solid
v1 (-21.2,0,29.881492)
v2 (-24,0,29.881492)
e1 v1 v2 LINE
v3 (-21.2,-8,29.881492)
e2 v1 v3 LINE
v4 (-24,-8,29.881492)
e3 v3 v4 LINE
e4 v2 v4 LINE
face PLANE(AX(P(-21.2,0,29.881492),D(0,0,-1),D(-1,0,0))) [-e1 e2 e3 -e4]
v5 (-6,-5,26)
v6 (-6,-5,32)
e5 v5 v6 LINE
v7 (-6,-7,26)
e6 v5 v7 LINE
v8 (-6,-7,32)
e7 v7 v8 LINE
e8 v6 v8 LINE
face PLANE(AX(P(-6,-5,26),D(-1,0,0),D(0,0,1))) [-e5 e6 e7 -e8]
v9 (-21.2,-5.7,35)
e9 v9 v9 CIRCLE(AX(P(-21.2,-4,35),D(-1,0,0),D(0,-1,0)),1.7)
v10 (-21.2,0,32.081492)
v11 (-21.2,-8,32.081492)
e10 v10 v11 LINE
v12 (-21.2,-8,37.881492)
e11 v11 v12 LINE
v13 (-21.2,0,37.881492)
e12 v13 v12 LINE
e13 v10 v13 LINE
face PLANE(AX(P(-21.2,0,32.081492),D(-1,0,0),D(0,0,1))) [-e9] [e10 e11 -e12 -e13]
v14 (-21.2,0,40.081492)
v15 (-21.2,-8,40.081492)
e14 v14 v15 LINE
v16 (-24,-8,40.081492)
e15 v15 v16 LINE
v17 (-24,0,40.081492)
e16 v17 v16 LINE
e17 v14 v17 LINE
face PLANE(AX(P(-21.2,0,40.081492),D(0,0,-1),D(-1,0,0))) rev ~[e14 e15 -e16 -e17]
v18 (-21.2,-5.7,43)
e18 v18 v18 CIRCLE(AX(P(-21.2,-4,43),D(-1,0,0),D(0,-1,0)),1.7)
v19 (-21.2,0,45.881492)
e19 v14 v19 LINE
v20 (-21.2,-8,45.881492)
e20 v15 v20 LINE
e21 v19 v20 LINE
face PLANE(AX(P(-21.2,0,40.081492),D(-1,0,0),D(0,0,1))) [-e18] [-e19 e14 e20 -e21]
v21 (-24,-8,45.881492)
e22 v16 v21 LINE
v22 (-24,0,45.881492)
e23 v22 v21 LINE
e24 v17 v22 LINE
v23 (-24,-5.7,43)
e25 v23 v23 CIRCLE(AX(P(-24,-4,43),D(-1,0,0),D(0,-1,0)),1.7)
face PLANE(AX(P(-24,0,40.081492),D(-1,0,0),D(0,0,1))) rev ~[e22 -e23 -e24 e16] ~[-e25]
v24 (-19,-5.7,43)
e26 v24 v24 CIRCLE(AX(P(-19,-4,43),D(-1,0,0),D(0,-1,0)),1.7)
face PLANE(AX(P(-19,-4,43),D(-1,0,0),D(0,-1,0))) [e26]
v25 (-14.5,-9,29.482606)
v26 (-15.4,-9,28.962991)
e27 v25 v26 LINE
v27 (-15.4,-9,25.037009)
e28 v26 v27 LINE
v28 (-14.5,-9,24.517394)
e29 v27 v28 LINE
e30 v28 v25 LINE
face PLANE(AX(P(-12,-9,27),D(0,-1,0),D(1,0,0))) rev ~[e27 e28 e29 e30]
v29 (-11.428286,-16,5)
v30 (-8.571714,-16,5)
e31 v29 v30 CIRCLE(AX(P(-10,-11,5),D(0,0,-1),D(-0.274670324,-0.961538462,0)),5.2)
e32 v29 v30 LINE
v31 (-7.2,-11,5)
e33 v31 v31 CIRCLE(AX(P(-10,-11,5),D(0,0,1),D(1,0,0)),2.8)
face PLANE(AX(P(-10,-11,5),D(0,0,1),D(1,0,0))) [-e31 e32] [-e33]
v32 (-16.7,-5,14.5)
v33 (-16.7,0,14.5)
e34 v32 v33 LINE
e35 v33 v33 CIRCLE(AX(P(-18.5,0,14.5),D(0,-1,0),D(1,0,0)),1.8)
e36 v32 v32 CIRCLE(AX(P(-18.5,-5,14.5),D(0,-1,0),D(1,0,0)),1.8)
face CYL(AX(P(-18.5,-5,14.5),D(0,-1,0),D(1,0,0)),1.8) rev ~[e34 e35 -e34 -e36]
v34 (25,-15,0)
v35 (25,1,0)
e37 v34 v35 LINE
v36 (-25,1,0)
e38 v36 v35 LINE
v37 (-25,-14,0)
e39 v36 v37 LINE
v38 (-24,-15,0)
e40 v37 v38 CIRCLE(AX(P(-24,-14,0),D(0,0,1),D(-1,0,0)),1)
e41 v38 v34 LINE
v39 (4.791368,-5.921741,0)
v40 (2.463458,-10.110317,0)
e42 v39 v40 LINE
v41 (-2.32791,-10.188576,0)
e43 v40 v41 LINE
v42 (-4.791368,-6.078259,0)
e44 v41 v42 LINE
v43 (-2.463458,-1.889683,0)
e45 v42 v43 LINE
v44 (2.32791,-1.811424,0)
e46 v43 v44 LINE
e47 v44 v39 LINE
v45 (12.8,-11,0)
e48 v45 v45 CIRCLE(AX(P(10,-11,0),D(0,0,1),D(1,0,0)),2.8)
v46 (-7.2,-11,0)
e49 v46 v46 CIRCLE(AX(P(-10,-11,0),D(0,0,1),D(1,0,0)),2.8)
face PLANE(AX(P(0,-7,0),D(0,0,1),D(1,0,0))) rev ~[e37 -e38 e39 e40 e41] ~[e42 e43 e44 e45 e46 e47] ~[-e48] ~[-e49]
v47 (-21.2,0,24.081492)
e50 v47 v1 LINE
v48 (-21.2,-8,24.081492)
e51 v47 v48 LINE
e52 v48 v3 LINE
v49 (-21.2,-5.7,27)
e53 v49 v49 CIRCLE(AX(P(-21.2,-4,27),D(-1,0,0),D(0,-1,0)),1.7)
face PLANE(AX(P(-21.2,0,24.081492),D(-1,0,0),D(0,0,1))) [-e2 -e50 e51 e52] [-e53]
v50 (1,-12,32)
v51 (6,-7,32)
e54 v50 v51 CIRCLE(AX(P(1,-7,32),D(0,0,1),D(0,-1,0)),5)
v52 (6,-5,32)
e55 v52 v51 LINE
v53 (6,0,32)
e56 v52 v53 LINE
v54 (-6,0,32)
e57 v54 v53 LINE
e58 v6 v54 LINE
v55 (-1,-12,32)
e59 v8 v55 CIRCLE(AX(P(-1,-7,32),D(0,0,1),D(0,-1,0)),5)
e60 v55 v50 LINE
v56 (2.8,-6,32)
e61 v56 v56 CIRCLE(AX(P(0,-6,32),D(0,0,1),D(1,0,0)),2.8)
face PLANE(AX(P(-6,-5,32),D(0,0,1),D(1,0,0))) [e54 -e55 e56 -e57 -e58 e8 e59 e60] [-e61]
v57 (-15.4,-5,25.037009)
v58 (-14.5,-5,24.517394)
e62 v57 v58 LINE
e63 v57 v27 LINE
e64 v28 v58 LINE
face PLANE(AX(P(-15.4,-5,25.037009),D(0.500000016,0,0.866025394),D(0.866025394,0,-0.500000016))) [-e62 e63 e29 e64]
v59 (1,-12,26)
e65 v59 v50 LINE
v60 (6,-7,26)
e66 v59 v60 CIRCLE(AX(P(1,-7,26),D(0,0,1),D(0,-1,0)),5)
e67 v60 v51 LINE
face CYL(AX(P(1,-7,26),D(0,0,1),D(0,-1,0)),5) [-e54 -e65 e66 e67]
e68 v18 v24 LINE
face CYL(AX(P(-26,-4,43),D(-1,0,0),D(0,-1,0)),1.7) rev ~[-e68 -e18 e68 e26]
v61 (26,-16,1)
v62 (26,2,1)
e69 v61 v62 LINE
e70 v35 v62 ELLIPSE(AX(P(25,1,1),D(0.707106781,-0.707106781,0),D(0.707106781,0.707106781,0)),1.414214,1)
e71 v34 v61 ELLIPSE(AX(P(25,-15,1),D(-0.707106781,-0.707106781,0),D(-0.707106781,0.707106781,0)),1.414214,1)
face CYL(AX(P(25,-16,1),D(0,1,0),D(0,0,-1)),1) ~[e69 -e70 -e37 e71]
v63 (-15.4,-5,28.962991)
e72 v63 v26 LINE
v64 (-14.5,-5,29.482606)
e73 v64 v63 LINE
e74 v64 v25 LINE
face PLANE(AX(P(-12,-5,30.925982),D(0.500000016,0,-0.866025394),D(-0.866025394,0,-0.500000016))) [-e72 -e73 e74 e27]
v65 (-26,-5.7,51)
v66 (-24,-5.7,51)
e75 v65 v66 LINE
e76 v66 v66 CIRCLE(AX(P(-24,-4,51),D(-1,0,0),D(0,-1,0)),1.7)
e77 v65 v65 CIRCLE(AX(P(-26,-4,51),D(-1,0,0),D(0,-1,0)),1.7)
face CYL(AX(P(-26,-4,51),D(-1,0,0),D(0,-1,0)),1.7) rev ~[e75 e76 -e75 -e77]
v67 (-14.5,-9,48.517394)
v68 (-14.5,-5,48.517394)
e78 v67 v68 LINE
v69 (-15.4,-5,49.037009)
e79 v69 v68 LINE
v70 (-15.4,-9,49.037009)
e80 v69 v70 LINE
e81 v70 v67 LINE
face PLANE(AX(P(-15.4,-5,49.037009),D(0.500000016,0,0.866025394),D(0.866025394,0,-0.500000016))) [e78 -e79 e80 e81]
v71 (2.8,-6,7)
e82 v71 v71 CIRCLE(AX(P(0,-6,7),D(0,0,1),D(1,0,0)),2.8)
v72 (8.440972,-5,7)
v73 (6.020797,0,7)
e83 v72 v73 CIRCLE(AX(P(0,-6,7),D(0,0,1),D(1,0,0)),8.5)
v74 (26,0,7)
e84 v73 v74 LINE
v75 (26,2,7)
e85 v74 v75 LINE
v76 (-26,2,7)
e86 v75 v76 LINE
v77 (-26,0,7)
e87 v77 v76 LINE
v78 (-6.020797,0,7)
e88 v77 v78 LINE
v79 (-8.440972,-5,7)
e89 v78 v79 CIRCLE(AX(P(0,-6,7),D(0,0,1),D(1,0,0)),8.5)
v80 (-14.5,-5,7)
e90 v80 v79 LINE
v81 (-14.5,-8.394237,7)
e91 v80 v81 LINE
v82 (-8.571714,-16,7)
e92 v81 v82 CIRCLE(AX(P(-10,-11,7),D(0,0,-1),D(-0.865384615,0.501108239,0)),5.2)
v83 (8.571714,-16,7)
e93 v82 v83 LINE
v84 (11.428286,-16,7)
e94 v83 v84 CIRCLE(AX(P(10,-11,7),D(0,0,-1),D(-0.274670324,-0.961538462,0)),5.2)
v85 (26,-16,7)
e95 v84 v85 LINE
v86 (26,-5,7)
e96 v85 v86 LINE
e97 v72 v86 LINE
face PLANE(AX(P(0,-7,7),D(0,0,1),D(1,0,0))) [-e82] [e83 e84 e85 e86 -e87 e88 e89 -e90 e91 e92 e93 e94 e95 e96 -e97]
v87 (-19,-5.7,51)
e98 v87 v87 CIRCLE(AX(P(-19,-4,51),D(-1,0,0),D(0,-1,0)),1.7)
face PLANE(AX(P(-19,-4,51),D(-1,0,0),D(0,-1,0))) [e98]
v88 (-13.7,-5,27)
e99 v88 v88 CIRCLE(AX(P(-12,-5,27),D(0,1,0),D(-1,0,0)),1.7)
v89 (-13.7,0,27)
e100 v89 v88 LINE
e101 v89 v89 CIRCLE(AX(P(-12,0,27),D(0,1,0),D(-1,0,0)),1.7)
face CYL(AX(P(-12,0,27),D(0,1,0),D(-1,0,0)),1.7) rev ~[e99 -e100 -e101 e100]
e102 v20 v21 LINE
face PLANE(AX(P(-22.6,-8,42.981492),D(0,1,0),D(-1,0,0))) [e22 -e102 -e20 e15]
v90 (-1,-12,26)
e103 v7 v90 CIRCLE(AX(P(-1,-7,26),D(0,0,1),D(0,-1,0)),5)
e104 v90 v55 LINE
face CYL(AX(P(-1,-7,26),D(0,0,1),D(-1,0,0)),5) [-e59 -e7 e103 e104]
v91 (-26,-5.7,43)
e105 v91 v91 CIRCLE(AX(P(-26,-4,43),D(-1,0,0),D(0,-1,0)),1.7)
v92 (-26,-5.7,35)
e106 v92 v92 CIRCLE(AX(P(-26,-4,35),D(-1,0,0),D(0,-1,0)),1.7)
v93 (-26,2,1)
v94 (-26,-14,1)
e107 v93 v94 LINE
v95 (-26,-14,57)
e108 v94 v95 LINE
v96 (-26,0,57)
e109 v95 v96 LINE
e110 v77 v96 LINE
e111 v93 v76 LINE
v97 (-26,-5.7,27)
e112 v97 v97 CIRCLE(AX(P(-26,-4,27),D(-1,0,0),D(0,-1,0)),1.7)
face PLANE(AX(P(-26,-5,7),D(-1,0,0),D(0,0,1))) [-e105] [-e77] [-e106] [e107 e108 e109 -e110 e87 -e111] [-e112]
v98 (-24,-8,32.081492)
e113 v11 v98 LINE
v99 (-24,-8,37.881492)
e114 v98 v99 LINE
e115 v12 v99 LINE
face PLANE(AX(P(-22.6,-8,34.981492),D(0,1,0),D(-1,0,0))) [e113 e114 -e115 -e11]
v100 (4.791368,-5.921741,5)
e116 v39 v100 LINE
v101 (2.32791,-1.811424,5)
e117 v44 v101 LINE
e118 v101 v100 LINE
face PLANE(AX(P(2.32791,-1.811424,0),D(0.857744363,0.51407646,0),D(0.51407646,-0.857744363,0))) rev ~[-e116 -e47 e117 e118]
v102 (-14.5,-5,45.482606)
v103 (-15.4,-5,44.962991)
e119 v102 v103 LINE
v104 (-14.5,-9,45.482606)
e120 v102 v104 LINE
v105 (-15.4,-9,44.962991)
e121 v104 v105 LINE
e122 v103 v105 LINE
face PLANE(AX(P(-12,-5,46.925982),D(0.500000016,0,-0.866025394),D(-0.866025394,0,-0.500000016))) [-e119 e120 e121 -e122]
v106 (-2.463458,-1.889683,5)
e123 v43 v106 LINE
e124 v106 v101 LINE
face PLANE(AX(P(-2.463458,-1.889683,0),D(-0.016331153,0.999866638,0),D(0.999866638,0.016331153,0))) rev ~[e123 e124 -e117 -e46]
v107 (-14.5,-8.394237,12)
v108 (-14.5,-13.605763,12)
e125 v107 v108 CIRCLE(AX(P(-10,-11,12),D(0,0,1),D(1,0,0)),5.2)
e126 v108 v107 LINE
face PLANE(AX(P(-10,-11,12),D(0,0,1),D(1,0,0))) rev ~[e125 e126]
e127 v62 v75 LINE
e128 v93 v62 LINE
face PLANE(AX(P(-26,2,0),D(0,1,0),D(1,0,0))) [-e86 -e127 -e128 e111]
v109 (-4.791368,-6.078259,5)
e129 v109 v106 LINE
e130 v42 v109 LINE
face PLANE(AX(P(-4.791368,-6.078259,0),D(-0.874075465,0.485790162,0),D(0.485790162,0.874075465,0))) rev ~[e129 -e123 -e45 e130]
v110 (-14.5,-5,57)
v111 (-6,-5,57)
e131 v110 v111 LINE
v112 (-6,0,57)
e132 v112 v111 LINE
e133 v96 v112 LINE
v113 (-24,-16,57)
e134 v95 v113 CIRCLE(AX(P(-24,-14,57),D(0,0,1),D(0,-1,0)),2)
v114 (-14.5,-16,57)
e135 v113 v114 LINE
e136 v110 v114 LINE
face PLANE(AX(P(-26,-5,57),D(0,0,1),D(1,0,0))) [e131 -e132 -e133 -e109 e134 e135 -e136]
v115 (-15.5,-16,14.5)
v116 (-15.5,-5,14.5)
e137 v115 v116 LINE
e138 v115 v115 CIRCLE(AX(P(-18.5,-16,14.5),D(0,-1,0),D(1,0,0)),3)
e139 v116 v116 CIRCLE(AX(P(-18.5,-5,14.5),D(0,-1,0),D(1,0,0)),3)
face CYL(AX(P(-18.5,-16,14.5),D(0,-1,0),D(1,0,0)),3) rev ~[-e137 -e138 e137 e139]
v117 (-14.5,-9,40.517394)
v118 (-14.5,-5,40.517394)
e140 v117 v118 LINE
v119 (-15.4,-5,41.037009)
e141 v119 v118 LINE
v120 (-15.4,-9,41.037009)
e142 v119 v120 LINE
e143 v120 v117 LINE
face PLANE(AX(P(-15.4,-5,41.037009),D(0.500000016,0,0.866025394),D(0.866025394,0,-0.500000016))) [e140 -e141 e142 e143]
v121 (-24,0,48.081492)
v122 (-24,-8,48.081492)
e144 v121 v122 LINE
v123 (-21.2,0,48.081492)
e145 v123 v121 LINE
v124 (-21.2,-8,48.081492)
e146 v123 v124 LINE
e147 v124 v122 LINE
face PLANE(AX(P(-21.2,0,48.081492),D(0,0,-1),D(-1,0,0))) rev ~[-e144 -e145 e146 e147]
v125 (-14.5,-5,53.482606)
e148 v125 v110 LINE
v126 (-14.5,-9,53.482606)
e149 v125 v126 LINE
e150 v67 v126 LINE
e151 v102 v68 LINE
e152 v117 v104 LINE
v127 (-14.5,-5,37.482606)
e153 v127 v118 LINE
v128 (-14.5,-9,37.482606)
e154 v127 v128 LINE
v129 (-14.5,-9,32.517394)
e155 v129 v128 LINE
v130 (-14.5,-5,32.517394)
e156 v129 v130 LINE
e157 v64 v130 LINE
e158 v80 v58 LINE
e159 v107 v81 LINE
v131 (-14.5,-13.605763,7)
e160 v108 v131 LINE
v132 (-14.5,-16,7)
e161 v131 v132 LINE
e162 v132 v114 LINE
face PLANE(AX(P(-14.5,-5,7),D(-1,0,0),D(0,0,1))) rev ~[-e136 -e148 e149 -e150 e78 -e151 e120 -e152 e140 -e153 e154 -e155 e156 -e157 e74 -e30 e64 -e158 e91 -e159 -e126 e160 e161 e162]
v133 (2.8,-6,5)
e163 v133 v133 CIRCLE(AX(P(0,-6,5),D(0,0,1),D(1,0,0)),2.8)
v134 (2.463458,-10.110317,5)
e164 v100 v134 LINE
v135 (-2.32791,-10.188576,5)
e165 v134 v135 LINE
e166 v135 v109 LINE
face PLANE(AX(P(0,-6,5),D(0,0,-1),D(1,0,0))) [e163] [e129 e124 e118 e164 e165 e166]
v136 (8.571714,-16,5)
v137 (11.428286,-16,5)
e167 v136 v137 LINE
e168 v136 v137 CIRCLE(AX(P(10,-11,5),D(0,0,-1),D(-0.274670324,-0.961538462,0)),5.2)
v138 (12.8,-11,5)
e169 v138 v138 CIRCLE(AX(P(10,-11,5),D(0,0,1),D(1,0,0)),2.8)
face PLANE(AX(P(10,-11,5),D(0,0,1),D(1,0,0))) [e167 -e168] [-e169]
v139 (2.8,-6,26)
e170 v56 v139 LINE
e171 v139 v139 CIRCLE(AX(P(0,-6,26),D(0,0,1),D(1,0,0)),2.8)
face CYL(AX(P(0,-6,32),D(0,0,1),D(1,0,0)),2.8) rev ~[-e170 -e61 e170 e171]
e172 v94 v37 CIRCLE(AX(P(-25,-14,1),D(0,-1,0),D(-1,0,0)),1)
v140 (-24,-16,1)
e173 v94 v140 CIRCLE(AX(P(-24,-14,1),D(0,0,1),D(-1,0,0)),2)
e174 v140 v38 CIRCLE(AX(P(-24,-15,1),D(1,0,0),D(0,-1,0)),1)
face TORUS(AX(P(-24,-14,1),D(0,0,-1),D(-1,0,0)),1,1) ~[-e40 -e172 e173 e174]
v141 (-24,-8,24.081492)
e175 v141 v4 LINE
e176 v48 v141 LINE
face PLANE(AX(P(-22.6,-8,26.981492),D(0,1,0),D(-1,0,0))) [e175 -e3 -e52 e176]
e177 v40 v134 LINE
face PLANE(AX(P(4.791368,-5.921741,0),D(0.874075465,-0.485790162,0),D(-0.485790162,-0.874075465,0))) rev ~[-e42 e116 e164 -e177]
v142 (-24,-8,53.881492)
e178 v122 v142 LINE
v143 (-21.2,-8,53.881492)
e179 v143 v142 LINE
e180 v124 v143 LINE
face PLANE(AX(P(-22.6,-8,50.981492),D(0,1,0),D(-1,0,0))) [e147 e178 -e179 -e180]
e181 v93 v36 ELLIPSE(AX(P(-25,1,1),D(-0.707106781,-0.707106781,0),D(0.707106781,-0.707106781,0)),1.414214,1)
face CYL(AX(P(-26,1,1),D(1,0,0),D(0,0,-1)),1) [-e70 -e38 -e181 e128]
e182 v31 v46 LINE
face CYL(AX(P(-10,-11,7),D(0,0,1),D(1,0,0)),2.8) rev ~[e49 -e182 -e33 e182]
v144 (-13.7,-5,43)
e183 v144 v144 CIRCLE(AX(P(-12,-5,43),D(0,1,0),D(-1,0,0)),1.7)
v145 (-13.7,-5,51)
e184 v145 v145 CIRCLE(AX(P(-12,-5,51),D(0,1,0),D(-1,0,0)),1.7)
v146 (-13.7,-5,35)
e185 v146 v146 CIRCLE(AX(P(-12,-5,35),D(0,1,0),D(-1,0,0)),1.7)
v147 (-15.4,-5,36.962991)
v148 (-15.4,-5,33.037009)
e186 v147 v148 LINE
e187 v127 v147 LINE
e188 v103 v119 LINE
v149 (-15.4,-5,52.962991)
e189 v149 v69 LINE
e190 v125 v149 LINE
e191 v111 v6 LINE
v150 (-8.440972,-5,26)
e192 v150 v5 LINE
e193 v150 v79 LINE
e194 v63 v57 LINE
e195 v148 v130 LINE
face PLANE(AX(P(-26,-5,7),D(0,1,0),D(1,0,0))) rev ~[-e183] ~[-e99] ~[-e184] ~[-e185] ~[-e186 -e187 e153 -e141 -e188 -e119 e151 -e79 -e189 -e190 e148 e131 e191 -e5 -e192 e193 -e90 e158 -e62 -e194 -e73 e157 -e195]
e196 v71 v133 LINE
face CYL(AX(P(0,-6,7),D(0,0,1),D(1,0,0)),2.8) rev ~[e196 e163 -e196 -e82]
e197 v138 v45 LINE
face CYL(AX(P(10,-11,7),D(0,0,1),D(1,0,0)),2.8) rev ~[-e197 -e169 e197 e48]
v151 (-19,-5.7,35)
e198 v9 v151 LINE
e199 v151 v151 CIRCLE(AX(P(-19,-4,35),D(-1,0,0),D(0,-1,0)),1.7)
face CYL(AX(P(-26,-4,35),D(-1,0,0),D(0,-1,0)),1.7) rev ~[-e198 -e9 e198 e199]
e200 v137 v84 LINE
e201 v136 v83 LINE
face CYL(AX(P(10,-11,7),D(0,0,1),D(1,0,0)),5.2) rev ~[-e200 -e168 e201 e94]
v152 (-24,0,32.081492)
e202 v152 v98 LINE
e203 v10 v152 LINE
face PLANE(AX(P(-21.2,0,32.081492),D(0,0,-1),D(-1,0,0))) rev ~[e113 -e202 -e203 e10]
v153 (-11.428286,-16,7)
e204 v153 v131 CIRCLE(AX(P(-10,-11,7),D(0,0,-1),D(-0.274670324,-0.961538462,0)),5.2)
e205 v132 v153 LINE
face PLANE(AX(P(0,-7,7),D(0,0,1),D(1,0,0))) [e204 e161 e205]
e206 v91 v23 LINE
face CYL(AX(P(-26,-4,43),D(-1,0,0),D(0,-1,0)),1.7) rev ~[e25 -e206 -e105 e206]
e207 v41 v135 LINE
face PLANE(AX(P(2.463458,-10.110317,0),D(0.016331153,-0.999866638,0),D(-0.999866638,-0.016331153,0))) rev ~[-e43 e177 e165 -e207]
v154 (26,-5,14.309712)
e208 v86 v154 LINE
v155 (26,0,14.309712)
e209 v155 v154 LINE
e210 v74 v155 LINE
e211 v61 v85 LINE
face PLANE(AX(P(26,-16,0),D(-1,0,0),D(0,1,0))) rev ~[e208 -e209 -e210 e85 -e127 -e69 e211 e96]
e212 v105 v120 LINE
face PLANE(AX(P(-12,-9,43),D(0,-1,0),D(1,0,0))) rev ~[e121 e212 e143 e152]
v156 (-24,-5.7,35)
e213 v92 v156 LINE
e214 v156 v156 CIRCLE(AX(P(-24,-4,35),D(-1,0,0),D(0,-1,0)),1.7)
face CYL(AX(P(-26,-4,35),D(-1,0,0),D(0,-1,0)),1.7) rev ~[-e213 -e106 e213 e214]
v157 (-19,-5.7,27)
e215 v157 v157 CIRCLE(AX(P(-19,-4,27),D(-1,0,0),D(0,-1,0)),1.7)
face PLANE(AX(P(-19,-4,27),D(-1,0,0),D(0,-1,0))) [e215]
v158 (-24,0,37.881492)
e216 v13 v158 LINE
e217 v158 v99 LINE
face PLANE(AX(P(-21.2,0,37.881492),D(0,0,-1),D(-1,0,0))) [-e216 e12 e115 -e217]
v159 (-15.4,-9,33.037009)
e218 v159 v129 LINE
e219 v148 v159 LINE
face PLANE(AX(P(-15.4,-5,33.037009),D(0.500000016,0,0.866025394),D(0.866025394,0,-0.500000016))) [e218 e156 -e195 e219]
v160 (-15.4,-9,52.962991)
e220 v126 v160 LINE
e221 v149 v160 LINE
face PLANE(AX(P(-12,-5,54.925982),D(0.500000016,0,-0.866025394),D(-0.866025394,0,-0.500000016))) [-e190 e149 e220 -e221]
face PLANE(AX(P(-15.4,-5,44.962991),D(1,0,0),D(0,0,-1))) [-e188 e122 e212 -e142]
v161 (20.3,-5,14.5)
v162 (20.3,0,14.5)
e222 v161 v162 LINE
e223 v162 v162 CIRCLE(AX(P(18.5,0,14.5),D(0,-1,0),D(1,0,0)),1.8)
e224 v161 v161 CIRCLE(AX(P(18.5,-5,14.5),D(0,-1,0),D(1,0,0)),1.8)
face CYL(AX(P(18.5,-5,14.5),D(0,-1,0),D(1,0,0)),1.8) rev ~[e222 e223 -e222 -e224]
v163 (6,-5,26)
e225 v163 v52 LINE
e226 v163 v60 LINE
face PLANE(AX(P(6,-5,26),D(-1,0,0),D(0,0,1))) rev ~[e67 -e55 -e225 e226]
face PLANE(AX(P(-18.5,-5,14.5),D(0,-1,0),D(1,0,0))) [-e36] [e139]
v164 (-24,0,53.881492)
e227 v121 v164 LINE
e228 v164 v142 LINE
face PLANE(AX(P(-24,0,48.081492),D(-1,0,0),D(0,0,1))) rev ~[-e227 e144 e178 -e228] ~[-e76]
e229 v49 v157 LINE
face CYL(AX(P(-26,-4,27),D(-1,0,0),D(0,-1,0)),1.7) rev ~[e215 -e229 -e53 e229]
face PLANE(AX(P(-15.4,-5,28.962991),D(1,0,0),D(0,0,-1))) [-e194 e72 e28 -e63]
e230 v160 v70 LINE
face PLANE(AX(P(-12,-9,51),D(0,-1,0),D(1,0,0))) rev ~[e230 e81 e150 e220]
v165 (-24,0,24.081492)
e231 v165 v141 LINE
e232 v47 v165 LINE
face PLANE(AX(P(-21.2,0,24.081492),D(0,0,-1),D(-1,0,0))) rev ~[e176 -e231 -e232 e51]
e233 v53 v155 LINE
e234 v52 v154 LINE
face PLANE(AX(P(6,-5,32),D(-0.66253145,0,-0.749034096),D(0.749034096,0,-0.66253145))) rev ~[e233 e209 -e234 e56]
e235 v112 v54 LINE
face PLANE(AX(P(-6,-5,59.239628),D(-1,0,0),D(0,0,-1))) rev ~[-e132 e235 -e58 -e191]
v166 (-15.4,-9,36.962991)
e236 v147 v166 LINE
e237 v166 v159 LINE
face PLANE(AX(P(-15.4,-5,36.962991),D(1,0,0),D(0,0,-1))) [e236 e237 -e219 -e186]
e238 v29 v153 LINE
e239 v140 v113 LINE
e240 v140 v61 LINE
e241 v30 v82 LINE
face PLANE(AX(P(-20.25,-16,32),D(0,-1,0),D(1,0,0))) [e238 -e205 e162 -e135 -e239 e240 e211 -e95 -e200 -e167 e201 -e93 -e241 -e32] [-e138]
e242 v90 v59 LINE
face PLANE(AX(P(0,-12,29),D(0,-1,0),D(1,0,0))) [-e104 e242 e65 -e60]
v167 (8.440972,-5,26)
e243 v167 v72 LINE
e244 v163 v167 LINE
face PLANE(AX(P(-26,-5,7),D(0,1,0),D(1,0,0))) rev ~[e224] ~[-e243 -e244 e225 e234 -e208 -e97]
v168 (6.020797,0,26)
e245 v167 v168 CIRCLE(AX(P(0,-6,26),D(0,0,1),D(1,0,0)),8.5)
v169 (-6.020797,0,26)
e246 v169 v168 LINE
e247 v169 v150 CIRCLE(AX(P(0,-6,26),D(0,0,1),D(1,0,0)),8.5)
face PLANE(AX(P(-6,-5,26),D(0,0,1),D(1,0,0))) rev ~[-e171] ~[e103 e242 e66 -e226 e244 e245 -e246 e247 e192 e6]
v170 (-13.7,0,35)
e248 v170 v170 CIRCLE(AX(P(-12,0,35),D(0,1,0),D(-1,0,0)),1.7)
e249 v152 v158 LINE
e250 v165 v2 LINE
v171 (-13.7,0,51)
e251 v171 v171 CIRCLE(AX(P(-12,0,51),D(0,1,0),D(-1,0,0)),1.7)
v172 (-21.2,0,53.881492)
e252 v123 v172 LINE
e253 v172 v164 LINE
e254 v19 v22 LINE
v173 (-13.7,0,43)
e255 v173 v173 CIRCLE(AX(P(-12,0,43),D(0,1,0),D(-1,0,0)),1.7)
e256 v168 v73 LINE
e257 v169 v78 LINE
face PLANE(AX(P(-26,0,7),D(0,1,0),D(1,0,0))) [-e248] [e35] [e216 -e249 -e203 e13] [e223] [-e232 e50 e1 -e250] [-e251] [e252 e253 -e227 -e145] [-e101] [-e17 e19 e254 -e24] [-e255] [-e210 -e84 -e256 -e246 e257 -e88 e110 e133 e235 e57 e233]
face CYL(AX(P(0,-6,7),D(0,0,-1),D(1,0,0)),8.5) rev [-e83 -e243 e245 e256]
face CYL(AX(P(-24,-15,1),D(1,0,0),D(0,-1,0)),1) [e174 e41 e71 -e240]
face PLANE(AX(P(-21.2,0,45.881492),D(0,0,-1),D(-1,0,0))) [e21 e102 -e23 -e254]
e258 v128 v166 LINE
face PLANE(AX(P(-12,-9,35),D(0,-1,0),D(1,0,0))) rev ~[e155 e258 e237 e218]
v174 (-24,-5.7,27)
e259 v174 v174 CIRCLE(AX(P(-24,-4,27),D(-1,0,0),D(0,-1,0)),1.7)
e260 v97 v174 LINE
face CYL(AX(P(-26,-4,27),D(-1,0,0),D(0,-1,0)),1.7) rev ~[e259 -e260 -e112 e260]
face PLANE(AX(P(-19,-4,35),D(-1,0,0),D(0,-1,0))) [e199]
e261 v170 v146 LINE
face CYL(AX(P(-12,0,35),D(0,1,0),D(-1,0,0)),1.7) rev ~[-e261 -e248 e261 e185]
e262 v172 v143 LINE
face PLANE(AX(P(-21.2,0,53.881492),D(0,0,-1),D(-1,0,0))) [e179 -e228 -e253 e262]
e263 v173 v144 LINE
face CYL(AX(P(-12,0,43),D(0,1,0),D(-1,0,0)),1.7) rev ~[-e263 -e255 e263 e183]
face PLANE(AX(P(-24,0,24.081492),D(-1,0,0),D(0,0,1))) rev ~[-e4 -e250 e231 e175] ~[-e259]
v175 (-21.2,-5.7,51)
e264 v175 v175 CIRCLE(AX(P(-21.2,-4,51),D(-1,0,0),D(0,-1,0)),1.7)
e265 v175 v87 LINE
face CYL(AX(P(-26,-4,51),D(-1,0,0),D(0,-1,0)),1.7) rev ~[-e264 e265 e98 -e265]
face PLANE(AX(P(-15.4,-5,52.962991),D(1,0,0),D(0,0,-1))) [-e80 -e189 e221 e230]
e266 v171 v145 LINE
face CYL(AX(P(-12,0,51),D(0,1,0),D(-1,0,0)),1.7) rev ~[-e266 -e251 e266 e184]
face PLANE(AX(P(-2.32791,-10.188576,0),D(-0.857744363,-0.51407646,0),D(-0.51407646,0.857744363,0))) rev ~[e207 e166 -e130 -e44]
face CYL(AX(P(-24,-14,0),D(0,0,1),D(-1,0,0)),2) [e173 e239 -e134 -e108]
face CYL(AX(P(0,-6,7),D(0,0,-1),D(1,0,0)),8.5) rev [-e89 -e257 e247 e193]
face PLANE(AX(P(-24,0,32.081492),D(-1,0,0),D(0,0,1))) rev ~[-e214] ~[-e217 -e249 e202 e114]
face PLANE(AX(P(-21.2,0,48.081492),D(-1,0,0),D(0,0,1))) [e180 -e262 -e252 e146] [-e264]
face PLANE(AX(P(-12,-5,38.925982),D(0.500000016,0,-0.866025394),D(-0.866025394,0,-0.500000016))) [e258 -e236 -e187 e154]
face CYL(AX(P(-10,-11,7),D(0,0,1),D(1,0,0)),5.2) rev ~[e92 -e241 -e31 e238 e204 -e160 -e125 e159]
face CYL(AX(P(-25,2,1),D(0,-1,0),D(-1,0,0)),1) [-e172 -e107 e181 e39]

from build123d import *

# Parameters (mm, degrees)
SKETCH_W        = 52
SKETCH_H        = 18
PAD_DEPTH       = 7
SKETCH001_W     = 52
SKETCH001_H     = 5
PAD001_DEPTH    = 50
SKETCH002_R     = 1.8
SKETCH002_W     = 12
SKETCH002_H     = 18
POCKET_DEPTH    = 5
SKETCH003_R     = 2.8
POCKET001_DEPTH = 7.001
SKETCH004_R     = 5.2
POCKET002_DEPTH = 2
SKETCH009_R     = 8.5
POCKET003_DEPTH = 19
POCKET004_DEPTH = 5
SKETCH006_W     = 12
SKETCH006_H     = 6
PAD002_DEPTH    = 7
SKETCH008_R     = 2.8
POCKET005_DEPTH = 32.001
SKETCH012_W     = 11.5
SKETCH012_H     = 50
PAD003_DEPTH    = 11
SKETCH013_R     = 3
POCKET006_DEPTH = 11
SKETCH014_R     = 5.2
POCKET007_DEPTH = 5
SKETCH015_R     = 1.7
POCKET008_DEPTH = 7
SKETCH016_R     = 1.7
SKETCH016_W     = 2.8
SKETCH016_H     = 5.8
POCKET009_DEPTH = 8
FILLET_R        = 5
FILLET001_R     = 2
FILLET002_R     = 1
POCKET010_DEPTH = 4


with BuildPart() as part:
    # Sketch → Pad (new body)
    with BuildSketch(Plane.XY):
        with Locations((0, -7)):
            Rectangle(SKETCH_W, SKETCH_H)
    extrude(amount=PAD_DEPTH)

    # Sketch001 → Pad001 (new body)
    with BuildSketch(Plane.XY.offset(7)):
        with Locations((0, -2.5)):
            Rectangle(SKETCH001_W, SKETCH001_H)
    extrude(amount=PAD001_DEPTH)

    # Sketch002 → Pocket (cut)
    with BuildSketch(Plane.XZ.offset(5)):
        with Locations((-18.5, 14.5)):
            Circle(SKETCH002_R)
        with Locations((18.5, 14.5)):
            Circle(SKETCH002_R)
        with Locations((0, 16)):
            Rectangle(SKETCH002_W, SKETCH002_H)
        Polygon((6, 32), (26.350149, 14), (26.350149, 32), (26.350149, 59.239628), (-6, 59.239628), (-6, 32), align=None)
    extrude(amount=-POCKET_DEPTH, mode=Mode.SUBTRACT)

    # Sketch003 → Pocket001 (cut, through all)
    with BuildSketch(Plane.XY.offset(7)):
        with Locations((0, -6)):
            Circle(SKETCH003_R)
        with Locations((10, -11)):
            Circle(SKETCH003_R)
        with Locations((-10, -11)):
            Circle(SKETCH003_R)
    extrude(amount=-POCKET001_DEPTH, mode=Mode.SUBTRACT)

    # Sketch004 → Pocket002 (cut)
    with BuildSketch(Plane.XY.offset(7)):
        with Locations((-10, -11)):
            Circle(SKETCH004_R)
        with Locations((10, -11)):
            Circle(SKETCH004_R)
    extrude(amount=-POCKET002_DEPTH, mode=Mode.SUBTRACT)

    # Sketch009 → Pocket003 (cut)
    with BuildSketch(Plane.XY.offset(7)):
        with Locations((0, -6)):
            Circle(SKETCH009_R)
    extrude(amount=POCKET003_DEPTH, mode=Mode.SUBTRACT)

    # Sketch005 → Pocket004 (cut)
    with BuildSketch(Plane(origin=(0, 0, 0), x_dir=(1, 0, 0), z_dir=(0, 0, -1))):
        Polygon((4.791368, 5.921741), (2.463458, 10.110317), (-2.32791, 10.188576), (-4.791368, 6.078259), (-2.463458, 1.889683), (2.32791, 1.811424), align=None)
    extrude(amount=-POCKET004_DEPTH, mode=Mode.SUBTRACT)

    # Sketch006 → Pad002 (new body)
    with BuildSketch(Plane.XZ.offset(5)):
        with Locations((0, 29)):
            Rectangle(SKETCH006_W, SKETCH006_H)
    extrude(amount=PAD002_DEPTH)

    # Sketch008 → Pocket005 (cut, through all)
    with BuildSketch(Plane.XY.offset(32)):
        with Locations((0, -6)):
            Circle(SKETCH008_R)
    extrude(amount=-POCKET005_DEPTH, mode=Mode.SUBTRACT)

    # Sketch012 → Pad003 (new body)
    with BuildSketch(Plane.XZ.offset(5)):
        with Locations((-20.25, 32)):
            Rectangle(SKETCH012_W, SKETCH012_H)
    extrude(amount=PAD003_DEPTH)

    # Sketch013 → Pocket006 (cut)
    with BuildSketch(Plane.XZ.offset(16)):
        with Locations((-18.5, 14.5)):
            Circle(SKETCH013_R)
    extrude(amount=-POCKET006_DEPTH, mode=Mode.SUBTRACT)

    # Sketch014 → Pocket007 (cut)
    with BuildSketch(Plane.XY.offset(7)):
        with Locations((-10, -11)):
            Circle(SKETCH014_R)
    extrude(amount=POCKET007_DEPTH, mode=Mode.SUBTRACT)

    # Sketch015 → Pocket008 (cut)
    with BuildSketch(Plane(origin=(-26, 0, 0), x_dir=(0, -1, 0), z_dir=(-1, 0, 0))):
        with Locations((4, 51)):
            Circle(SKETCH015_R)
        with Locations((4, 43)):
            Circle(SKETCH015_R)
        with Locations((4, 35)):
            Circle(SKETCH015_R)
        with Locations((4, 27)):
            Circle(SKETCH015_R)
    extrude(amount=-POCKET008_DEPTH, mode=Mode.SUBTRACT)

    # Sketch016 → Pocket009 (cut)
    with BuildSketch(Plane(origin=(0, 0, 0), x_dir=(-1, 0, 0), z_dir=(0, 1, 0))):
        with Locations((12, 51)):
            Circle(SKETCH016_R)
        with Locations((12, 43)):
            Circle(SKETCH016_R)
        with Locations((12, 35)):
            Circle(SKETCH016_R)
        with Locations((12, 27)):
            Circle(SKETCH016_R)
        with Locations((22.6, 50.981492)):
            Rectangle(SKETCH016_W, SKETCH016_H)
        with Locations((22.6, 42.981492)):
            Rectangle(SKETCH016_W, SKETCH016_H)
        with Locations((22.6, 34.981492)):
            Rectangle(SKETCH016_W, SKETCH016_H)
        with Locations((22.6, 26.981492)):
            Rectangle(SKETCH016_W, SKETCH016_H)
    extrude(amount=-POCKET009_DEPTH, mode=Mode.SUBTRACT)

    # Fillet
    fillet_edges = [part.edges().sort_by_distance(p)[0] for p in [
        (-6, -12, 29),
        (6, -12, 29),
    ]]
    fillet(fillet_edges, radius=FILLET_R)

    # Fillet001
    fillet001_edges = [part.edges().sort_by_distance(p)[0] for p in [
        (-26, -16, 28.5),
    ]]
    fillet(fillet001_edges, radius=FILLET001_R)

    # Fillet002
    fillet002_edges = [part.edges().sort_by_distance(p)[0] for p in [
        (26, -7, 0),
        (1, -16, 0),
        (0, 2, 0),
        (-26, -6, 0),
    ]]
    fillet(fillet002_edges, radius=FILLET002_R)

    # Sketch017 → Pocket010 (cut)
    with BuildSketch(Plane.XZ.offset(5)):
        Polygon((-8.6, 49.037009), (-8.6, 52.962991), (-12, 54.925982), (-15.4, 52.962991), (-15.4, 49.037009), (-12, 47.074018), align=None)
        Polygon((-8.6, 41.037009), (-8.6, 44.962991), (-12, 46.925982), (-15.4, 44.962991), (-15.4, 41.037009), (-12, 39.074018), align=None)
        Polygon((-8.6, 33.037009), (-8.6, 36.962991), (-12, 38.925982), (-15.4, 36.962991), (-15.4, 33.037009), (-12, 31.074018), align=None)
        Polygon((-8.6, 25.037009), (-8.6, 28.962991), (-12, 30.925982), (-15.4, 28.962991), (-15.4, 25.037009), (-12, 23.074018), align=None)
    extrude(amount=POCKET010_DEPTH, mode=Mode.SUBTRACT)


solid = part.part
